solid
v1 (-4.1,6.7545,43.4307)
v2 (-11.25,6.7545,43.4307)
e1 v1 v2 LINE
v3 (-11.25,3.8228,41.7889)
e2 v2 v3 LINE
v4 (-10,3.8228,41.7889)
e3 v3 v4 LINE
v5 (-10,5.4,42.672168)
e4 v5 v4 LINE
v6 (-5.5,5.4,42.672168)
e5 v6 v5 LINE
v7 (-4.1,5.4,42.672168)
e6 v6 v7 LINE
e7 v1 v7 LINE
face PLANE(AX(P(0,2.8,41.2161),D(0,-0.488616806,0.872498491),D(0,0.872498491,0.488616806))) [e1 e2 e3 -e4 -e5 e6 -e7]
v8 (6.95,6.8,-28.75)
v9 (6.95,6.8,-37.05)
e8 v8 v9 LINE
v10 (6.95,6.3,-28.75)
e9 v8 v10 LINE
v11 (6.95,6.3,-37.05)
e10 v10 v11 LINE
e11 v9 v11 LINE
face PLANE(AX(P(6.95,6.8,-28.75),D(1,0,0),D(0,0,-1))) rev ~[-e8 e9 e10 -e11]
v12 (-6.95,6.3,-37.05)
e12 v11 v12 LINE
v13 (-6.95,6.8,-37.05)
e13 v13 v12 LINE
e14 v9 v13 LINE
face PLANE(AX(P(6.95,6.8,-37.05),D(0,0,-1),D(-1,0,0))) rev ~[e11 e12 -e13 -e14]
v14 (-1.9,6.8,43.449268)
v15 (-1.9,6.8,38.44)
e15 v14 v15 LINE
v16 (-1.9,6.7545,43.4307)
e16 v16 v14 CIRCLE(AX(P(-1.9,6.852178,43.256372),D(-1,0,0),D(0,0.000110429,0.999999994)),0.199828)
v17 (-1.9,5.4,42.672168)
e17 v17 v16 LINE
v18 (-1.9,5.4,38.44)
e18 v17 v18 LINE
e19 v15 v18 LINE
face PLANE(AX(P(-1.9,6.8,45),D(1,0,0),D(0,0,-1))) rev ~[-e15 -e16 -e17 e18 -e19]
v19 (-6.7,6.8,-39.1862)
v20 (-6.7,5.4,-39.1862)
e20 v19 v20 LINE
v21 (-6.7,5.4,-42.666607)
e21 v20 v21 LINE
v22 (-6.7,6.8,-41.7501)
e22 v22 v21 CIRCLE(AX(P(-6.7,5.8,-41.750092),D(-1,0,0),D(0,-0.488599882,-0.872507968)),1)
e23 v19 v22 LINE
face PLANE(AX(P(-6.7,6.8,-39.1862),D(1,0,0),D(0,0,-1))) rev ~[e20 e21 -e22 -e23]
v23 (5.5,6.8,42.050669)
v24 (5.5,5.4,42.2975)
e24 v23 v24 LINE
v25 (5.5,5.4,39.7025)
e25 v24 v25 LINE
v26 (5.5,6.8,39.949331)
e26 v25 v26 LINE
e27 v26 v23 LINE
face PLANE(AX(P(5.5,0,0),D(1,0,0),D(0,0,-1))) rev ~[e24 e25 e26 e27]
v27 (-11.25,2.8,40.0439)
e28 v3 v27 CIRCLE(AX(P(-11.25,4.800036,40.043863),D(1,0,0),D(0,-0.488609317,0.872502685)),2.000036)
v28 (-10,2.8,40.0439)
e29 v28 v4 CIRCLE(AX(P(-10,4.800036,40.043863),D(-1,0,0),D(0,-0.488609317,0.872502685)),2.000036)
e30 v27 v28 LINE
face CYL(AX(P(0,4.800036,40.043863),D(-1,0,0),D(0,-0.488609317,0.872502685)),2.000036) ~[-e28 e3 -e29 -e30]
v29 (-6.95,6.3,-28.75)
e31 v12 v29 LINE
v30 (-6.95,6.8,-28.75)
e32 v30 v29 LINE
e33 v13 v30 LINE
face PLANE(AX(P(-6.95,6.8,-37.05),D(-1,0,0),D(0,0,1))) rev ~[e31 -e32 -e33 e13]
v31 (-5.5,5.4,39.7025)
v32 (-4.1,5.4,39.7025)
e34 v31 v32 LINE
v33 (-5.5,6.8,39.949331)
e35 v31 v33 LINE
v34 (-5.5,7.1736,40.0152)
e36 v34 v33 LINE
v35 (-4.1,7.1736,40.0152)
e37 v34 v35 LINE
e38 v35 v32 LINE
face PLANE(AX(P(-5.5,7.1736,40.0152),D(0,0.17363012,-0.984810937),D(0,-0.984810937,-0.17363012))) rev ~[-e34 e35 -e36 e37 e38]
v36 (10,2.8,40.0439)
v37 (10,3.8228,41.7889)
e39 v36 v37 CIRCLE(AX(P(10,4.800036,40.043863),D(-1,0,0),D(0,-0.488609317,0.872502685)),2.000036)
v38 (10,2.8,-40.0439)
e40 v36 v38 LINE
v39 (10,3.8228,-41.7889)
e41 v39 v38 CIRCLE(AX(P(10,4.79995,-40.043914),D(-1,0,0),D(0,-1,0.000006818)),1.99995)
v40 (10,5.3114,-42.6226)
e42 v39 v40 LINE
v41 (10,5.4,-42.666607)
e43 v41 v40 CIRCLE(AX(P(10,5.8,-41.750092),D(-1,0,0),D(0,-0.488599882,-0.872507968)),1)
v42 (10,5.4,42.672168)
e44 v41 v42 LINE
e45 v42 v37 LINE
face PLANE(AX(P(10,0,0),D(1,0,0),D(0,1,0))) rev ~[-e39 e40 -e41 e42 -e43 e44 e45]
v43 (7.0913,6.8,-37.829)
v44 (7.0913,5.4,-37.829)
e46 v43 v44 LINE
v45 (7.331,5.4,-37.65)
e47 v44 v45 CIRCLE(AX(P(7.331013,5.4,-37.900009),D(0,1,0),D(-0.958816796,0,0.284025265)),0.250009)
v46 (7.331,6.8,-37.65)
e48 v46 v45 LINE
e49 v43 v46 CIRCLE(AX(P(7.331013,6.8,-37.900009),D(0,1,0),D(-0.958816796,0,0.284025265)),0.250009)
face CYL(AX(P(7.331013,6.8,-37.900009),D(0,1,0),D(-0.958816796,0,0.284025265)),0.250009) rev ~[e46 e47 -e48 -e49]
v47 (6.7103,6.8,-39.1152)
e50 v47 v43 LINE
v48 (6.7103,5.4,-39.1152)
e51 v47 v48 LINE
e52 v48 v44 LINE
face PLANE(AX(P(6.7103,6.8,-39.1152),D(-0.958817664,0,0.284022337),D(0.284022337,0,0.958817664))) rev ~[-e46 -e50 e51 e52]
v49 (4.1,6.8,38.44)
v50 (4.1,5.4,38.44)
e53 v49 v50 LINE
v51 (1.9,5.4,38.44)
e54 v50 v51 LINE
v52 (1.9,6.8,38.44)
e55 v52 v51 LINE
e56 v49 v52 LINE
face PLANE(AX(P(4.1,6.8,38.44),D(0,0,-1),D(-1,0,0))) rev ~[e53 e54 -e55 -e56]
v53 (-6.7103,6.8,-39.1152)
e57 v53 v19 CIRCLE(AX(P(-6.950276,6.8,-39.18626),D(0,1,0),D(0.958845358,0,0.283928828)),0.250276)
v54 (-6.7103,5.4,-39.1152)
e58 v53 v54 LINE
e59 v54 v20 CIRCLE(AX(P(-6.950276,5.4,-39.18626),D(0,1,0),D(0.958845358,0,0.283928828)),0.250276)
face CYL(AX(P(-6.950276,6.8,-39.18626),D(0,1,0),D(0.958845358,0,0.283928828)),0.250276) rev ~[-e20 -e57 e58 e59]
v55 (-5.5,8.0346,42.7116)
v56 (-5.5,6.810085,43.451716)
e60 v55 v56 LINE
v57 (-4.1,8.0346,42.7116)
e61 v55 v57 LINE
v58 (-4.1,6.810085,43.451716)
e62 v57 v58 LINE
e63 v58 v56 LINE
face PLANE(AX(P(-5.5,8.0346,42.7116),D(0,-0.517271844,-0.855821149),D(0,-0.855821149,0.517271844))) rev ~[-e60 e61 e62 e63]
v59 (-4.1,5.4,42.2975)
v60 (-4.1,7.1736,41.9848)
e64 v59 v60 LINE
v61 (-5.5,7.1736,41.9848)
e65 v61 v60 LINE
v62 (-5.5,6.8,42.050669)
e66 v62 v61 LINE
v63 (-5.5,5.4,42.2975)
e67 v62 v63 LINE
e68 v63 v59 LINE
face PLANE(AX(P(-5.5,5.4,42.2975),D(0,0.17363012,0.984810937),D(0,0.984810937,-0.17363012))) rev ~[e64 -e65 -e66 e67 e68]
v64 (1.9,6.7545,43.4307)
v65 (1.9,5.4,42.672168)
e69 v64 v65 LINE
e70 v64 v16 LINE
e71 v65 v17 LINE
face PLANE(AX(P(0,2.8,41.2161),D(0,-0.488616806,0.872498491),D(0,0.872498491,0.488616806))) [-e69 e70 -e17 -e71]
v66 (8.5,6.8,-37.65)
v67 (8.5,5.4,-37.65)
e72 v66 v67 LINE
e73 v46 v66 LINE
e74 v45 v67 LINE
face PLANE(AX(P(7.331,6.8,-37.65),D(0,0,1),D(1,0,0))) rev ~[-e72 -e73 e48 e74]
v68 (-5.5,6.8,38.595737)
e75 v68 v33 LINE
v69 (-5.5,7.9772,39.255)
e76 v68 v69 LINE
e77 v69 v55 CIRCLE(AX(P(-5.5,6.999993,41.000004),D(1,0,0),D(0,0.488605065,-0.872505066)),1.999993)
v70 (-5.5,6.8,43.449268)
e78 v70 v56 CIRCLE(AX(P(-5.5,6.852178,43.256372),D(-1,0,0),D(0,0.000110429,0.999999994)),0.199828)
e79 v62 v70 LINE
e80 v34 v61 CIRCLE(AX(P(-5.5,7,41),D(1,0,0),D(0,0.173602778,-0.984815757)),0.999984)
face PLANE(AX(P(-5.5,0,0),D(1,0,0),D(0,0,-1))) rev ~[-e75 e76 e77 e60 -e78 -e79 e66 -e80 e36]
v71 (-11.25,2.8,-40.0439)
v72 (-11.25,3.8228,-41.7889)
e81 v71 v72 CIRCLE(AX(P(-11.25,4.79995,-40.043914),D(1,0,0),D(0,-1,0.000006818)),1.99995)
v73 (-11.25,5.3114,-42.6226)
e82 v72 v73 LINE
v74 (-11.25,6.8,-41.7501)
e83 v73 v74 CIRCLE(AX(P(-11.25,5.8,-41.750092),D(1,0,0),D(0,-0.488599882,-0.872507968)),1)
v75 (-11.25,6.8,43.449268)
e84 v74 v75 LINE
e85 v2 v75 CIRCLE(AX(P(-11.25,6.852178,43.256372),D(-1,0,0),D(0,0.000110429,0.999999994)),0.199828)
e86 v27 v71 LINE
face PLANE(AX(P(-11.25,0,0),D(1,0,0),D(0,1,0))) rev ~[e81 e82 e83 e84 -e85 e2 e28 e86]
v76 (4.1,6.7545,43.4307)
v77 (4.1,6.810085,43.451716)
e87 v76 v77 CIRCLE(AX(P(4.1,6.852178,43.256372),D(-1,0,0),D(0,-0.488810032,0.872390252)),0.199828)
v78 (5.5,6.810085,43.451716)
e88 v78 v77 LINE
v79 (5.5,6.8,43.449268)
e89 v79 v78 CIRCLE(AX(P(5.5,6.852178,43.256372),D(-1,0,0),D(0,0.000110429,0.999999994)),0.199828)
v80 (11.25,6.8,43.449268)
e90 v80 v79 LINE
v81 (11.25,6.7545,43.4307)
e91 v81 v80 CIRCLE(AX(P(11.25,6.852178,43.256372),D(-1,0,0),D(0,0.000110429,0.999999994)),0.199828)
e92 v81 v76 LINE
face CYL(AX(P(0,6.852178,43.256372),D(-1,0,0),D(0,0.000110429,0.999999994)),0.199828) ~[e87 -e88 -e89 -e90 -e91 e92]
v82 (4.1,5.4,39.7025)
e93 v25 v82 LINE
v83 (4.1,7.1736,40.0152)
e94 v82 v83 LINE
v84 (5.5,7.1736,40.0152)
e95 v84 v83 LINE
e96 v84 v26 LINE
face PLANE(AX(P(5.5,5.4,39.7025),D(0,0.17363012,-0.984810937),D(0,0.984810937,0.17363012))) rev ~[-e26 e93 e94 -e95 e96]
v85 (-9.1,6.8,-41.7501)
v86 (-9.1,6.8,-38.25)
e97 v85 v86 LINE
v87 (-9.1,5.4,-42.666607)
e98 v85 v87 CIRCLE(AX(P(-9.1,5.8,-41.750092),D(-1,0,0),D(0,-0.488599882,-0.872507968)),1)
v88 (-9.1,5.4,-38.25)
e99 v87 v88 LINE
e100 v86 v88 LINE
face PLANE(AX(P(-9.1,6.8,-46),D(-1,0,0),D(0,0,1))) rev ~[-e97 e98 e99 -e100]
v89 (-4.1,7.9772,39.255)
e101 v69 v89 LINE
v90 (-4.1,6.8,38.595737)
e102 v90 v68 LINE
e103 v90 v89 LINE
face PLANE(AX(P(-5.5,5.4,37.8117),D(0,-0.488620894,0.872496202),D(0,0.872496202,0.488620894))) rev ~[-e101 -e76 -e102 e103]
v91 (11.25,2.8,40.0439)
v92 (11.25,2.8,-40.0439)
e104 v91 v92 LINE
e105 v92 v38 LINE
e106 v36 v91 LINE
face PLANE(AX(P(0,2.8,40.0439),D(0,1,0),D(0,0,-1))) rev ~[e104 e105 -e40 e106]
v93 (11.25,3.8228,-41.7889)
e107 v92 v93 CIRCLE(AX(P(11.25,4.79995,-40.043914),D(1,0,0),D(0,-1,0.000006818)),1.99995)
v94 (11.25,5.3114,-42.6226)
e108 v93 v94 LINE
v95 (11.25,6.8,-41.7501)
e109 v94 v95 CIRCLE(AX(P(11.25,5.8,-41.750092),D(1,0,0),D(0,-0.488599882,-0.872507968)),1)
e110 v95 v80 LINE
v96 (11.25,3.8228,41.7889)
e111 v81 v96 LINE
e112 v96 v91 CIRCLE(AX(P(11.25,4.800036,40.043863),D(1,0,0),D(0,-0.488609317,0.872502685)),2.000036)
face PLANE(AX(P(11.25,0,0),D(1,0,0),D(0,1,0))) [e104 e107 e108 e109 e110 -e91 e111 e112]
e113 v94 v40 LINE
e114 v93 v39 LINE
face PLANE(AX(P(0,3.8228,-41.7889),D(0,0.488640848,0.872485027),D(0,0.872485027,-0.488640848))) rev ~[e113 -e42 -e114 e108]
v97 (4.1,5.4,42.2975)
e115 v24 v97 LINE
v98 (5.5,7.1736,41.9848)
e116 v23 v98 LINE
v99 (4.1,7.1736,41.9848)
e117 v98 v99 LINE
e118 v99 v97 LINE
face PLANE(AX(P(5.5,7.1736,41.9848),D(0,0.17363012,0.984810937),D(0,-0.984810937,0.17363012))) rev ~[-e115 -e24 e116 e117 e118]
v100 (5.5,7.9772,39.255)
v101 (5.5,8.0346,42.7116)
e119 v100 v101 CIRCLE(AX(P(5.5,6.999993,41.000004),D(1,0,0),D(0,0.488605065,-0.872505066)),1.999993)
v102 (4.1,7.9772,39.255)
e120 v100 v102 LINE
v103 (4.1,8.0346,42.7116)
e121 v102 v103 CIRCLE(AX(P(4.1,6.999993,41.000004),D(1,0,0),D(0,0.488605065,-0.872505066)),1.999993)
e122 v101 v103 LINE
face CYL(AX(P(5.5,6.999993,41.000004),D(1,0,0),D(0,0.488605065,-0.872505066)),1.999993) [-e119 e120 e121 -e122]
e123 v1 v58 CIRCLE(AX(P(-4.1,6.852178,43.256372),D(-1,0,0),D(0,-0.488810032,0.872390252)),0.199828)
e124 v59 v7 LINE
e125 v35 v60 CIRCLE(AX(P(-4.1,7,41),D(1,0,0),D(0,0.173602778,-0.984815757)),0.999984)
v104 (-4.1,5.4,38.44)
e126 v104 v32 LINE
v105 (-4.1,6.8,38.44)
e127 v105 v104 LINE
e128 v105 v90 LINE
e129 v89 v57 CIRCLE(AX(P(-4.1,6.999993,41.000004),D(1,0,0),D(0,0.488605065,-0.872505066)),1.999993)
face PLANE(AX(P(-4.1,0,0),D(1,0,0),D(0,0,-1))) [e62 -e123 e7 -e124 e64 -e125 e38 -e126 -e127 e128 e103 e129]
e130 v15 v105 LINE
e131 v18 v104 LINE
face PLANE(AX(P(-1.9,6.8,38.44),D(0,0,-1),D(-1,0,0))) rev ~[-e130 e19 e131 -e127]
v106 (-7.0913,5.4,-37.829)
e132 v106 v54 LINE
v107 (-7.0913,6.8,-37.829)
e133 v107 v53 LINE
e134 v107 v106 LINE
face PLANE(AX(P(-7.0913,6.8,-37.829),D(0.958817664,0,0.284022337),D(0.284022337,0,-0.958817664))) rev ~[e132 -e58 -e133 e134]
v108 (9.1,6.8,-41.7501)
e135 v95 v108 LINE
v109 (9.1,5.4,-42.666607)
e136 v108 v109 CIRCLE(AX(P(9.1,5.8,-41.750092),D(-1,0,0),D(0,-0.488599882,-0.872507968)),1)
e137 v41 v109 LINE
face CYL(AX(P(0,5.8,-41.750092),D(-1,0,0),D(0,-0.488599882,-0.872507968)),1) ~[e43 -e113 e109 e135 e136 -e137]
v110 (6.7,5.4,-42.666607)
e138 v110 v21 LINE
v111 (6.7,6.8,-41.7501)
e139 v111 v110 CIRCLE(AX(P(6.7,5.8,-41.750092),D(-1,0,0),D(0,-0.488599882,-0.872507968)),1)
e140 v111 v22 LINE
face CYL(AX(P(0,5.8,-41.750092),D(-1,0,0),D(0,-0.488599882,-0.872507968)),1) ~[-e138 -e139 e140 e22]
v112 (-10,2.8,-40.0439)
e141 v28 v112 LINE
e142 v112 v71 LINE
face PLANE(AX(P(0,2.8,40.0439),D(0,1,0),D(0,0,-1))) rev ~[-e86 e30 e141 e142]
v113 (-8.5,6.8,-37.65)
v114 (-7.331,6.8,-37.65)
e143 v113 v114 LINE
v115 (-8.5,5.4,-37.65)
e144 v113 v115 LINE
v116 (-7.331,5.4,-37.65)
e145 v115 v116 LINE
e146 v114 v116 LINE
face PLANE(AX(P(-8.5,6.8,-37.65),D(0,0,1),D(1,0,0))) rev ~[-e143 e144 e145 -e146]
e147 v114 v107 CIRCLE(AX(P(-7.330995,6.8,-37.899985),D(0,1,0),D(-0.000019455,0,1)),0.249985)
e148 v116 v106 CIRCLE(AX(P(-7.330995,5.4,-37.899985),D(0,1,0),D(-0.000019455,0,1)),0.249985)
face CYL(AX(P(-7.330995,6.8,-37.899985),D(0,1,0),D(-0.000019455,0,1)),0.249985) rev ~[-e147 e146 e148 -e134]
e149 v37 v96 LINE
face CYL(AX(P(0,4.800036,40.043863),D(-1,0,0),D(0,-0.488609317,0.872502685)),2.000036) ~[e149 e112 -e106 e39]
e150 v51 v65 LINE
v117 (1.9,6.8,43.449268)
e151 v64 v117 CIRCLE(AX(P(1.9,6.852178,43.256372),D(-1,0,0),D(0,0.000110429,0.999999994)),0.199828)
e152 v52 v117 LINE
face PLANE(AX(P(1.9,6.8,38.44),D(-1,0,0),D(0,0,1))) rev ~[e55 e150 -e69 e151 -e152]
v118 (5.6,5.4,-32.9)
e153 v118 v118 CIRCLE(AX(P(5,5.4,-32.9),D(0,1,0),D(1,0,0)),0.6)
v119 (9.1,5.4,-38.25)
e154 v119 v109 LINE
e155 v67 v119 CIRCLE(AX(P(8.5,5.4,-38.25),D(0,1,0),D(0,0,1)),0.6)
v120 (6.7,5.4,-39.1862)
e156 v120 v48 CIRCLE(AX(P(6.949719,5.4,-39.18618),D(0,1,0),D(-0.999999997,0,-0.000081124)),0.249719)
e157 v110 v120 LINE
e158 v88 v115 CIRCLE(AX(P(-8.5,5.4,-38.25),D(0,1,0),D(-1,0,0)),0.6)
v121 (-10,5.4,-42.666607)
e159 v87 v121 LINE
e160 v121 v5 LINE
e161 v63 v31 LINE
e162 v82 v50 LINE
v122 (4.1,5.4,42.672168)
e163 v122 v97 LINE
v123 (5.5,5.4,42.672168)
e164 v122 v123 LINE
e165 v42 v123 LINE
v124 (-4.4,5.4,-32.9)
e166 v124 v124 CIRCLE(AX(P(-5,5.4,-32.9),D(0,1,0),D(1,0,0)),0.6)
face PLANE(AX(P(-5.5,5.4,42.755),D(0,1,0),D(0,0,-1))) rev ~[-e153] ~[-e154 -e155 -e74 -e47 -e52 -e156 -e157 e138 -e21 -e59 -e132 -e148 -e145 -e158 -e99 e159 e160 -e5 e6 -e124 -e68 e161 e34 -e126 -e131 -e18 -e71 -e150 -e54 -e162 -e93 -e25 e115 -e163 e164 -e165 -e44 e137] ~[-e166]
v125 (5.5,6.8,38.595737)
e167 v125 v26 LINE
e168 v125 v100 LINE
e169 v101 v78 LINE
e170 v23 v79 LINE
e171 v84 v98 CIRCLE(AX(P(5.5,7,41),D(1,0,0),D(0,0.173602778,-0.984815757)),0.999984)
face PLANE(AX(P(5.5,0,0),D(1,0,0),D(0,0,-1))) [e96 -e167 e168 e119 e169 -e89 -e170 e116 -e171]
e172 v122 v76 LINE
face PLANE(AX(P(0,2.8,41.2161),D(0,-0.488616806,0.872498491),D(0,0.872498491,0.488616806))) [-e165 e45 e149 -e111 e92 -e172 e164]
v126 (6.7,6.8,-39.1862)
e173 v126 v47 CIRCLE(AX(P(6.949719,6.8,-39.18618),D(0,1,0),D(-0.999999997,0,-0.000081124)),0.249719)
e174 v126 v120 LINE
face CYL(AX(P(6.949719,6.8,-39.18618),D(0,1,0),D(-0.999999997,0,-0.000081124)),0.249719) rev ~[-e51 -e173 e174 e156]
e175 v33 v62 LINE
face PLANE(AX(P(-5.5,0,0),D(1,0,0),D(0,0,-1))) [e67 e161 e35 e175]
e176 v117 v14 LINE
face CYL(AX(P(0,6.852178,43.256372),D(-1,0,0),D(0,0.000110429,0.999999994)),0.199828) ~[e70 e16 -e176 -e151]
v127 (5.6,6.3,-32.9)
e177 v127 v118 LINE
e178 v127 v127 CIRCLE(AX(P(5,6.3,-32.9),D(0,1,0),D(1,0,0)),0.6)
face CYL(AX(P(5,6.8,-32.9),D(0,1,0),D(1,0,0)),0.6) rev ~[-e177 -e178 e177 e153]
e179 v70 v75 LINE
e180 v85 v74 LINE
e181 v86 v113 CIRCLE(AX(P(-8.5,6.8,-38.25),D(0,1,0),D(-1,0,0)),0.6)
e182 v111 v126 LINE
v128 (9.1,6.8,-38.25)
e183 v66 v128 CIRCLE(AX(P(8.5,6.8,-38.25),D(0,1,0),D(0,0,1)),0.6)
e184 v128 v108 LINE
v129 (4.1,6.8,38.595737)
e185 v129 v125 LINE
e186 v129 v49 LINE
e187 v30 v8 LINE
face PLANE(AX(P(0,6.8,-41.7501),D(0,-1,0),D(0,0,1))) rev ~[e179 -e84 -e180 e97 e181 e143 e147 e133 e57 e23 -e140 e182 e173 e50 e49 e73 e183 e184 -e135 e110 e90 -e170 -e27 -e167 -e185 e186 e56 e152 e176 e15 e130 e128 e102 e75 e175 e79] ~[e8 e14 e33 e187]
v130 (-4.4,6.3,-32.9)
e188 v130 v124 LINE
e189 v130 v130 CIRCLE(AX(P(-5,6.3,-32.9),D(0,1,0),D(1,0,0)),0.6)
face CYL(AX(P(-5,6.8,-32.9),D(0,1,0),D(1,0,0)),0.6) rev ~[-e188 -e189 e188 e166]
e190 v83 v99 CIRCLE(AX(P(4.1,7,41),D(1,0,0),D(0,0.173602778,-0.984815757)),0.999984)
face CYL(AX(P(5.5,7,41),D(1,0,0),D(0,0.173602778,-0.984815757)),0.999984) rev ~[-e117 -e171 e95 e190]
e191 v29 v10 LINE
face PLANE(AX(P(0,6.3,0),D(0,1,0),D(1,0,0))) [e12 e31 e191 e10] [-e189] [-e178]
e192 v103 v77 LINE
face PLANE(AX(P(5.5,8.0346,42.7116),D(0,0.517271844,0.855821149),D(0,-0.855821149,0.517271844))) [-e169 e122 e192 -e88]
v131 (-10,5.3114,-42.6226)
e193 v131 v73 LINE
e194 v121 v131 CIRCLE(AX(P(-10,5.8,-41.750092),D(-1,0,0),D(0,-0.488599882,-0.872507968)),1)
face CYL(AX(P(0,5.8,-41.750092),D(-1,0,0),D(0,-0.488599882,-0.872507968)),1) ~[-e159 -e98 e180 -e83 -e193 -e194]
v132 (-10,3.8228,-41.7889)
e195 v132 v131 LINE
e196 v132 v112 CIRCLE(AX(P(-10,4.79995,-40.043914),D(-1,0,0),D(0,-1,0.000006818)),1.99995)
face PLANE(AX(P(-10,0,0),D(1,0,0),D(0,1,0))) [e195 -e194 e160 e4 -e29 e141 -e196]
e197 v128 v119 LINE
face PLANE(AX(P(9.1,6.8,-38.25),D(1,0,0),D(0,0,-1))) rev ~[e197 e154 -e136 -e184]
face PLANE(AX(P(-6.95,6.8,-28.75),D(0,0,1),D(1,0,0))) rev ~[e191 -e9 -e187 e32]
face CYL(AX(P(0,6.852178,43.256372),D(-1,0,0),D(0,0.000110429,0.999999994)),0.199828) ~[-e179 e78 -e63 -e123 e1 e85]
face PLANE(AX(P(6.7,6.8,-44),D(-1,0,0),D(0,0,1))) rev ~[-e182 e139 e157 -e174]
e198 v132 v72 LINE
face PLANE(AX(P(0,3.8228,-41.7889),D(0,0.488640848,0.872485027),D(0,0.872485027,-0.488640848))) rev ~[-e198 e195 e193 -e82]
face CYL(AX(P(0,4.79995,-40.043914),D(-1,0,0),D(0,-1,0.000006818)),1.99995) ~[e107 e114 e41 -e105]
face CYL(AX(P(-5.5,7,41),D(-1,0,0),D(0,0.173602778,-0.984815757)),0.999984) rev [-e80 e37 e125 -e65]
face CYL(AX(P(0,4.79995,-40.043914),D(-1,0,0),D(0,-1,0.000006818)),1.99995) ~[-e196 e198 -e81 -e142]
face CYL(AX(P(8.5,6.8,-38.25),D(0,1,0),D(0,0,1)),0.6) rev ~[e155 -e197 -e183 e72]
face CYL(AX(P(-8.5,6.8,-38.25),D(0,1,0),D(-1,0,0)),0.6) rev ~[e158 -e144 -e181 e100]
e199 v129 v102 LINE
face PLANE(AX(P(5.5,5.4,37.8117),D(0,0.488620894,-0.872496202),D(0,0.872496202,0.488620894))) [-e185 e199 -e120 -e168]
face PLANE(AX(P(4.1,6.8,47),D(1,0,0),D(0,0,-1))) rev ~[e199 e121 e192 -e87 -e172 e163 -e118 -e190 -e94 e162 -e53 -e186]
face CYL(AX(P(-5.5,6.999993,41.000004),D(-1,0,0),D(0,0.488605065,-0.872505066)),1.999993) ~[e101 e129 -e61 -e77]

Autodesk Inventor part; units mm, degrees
sketch "Sketch_1" plane through (0, 0, 0) normal (1, 0, 0) x (0, 1, 0)
  line L0 (6.8, 43.4562) -> (3.8228, 41.7889)
  arc A0 (3.8228, 41.7889) -> (2.8, 40.0439) centre (4.8, 40.0439) ccw
  line L1 (2.8, 40.0439) -> (2.8, -40.0439)
  arc A1 (2.8, -40.0439) -> (3.8228, -41.7889) centre (4.8, -40.0439) ccw
  line L2 (3.8228, -41.7889) -> (5.3114, -42.6226)
  arc A2 (5.3114, -42.6226) -> (6.8, -41.7501) centre (5.8, -41.7501) ccw
  line L3 (6.8, -41.7501) -> (6.8, 43.4562)
extrude "Extrusion1" add sketch "Sketch_1" along normal mid plane 22.5
sketch "Sketch_4" plane through (0, 0, 0) normal (1, 0, 0) x (0, 1, 0)
  line L0 (6.78, 48.4) -> (-1, 48.4)
  line L1 (-1, 48.4) -> (-1, -48.4)
  line L2 (-1, -48.4) -> (6.78, -48.4)
  line L3 (6.78, -48.4) -> (7.1588, -48.2985)
  arc A0 (7.1588, -48.2985) -> (7.9, -47.3326) centre (6.9, -47.3326) ccw
  line L4 (7.9, -47.3326) -> (7.9, -45.0762)
  arc A1 (7.9, -45.0762) -> (7.3886, -44.2037) centre (6.9, -45.0762) ccw
  line L5 (7.3886, -44.2037) -> (5.4, -43.09)
  line L6 (5.4, -43.09) -> (5.4, 43.09)
  line L7 (5.4, 43.09) -> (7.3886, 44.2037)
  arc A2 (7.3886, 44.2037) -> (7.9, 45.0762) centre (6.9, 45.0762) ccw
  line L8 (7.9, 45.0762) -> (7.9, 47.3326)
  arc A3 (7.9, 47.3326) -> (7.1588, 48.2985) centre (6.9, 47.3326) ccw
  line L9 (7.1588, 48.2985) -> (6.78, 48.4)
extrude "Extrusion2" cut sketch "Sketch_4" along normal mid plane 20
sketch "Sketch_10" plane through (5.5, 0, 0) normal (1, 0, 0) x (0, 0, -1)
  line L0 (-43.5, 6.7302) -> (-42.755, 5.4)
  line L1 (-42.755, 5.4) -> (-42.2975, 5.4)
  line L2 (-42.2975, 5.4) -> (-41.9848, 7.1736)
  arc A0 (-40.0152, 7.1736) -> (-41.9848, 7.1736) centre (-41, 7) ccw
  line L3 (-40.0152, 7.1736) -> (-39.7025, 5.4)
  line L4 (-39.7025, 5.4) -> (-37.8117, 5.4)
  line L5 (-37.8117, 5.4) -> (-39.255, 7.9772)
  arc A1 (-39.255, 7.9772) -> (-42.7116, 8.0346) centre (-41, 7) ccw
  line L6 (-42.7116, 8.0346) -> (-43.5, 6.7302)
extrude "Extrusion3" add sketch "Sketch_10" against normal blind 1.4
sketch "Sketch_2" plane through (-5.5, 0, 0) normal (1, 0, 0) x (0, 0, -1)
  line L0 (-43.5, 6.7302) -> (-42.755, 5.4)
  line L1 (-42.755, 5.4) -> (-42.2975, 5.4)
  line L2 (-42.2975, 5.4) -> (-41.9848, 7.1736)
  arc A0 (-40.0152, 7.1736) -> (-41.9848, 7.1736) centre (-41, 7) ccw
  line L3 (-40.0152, 7.1736) -> (-39.7025, 5.4)
  line L4 (-39.7025, 5.4) -> (-37.8117, 5.4)
  line L5 (-37.8117, 5.4) -> (-39.255, 7.9772)
  arc A1 (-39.255, 7.9772) -> (-42.7116, 8.0346) centre (-41, 7) ccw
  line L6 (-42.7116, 8.0346) -> (-43.5, 6.7302)
extrude "Extrusion4" add sketch "Sketch_2" along normal blind 1.4
sketch "Sketch_3" plane through (0, 0, 0) normal (1, 0, 0) x (0, 1, 0)
  line L0 (7.3, 45) -> (2.8, 45)
  line L1 (2.8, 45) -> (2.8, 41.2161)
  line L2 (2.8, 41.2161) -> (6.7545, 43.4307)
  arc A0 (6.8522, 43.4562) -> (6.7545, 43.4307) centre (6.8522, 43.2562) ccw
  line L3 (6.8522, 43.4562) -> (7.3, 43.4562)
  line L4 (7.3, 43.4562) -> (7.3, 45)
extrude "Extrusion5" cut sketch "Sketch_3" along normal mid plane 24
sketch "Sketch_5" plane through (0, 6.8, 0) normal (0, 1, 0) x (1, 0, 0)
  line L0 (-4.1, -38.44) -> (-4.1, -47)
  line L1 (-4.1, -47) -> (4.1, -47)
  line L2 (4.1, -47) -> (4.1, -38.44)
  line L3 (4.1, -38.44) -> (1.9, -38.44)
  line L4 (1.9, -38.44) -> (1.9, -45)
  line L5 (1.9, -45) -> (-1.9, -45)
  line L6 (-1.9, -45) -> (-1.9, -38.44)
  line L7 (-1.9, -38.44) -> (-4.1, -38.44)
extrude "Extrusion6" cut sketch "Sketch_5" against normal blind 1.5
sketch "Sketch_6" plane through (5.5, 0, 0) normal (1, 0, 0) x (0, 0, -1)
  line L0 (-42.2975, 5.4) -> (-39.7025, 5.4)
  line L1 (-39.7025, 5.4) -> (-40.0152, 7.1736)
  arc A0 (-40.0152, 7.1736) -> (-41.9848, 7.1736) centre (-41, 7) ccw
  line L2 (-41.9848, 7.1736) -> (-42.2975, 5.4)
extrude "Extrusion7" cut sketch "Sketch_6" against normal blind 1.5
sketch "Sketch_7" plane through (-5.5, 0, 0) normal (1, 0, 0) x (0, 0, -1)
  line L0 (-42.2975, 5.4) -> (-39.7025, 5.4)
  line L1 (-39.7025, 5.4) -> (-40.0152, 7.1736)
  arc A0 (-40.0152, 7.1736) -> (-41.9848, 7.1736) centre (-41, 7) ccw
  line L2 (-41.9848, 7.1736) -> (-42.2975, 5.4)
extrude "Extrusion8" cut sketch "Sketch_7" along normal blind 1.5
sketch "Sketch_8" plane through (0, 6.8, 0) normal (0, 1, 0) x (1, 0, 0)
  line L0 (-9.1, 46) -> (-9.1, 38.25)
  arc A0 (-9.1, 38.25) -> (-8.5, 37.65) centre (-8.5, 38.25) ccw
  line L1 (-8.5, 37.65) -> (-7.331, 37.65)
  arc A1 (-7.331, 37.65) -> (-7.0913, 37.829) centre (-7.331, 37.9) ccw
  line L2 (-7.0913, 37.829) -> (-6.7103, 39.1152)
  arc A2 (-6.7103, 39.1152) -> (-6.7, 39.1862) centre (-6.95, 39.1862) ccw
  line L3 (-6.7, 39.1862) -> (-6.7, 44)
  line L4 (-6.7, 44) -> (6.7, 44)
  line L5 (6.7, 44) -> (6.7, 39.1862)
  arc A3 (6.7, 39.1862) -> (6.7103, 39.1152) centre (6.95, 39.1862) ccw
  line L6 (6.7103, 39.1152) -> (7.0913, 37.829)
  arc A4 (7.0913, 37.829) -> (7.331, 37.65) centre (7.331, 37.9) ccw
  line L7 (7.331, 37.65) -> (8.5, 37.65)
  arc A5 (8.5, 37.65) -> (9.1, 38.25) centre (8.5, 38.25) ccw
  line L8 (9.1, 38.25) -> (9.1, 46)
  line L9 (9.1, 46) -> (-9.1, 46)
extrude "Extrusion9" cut sketch "Sketch_8" against normal blind 1.5
sketch "Sketch_11" plane through (0, 6.8, 0) normal (0, 1, 0) x (1, 0, 0)
  line L0 (-6.95, 28.75) -> (6.95, 28.75)
  line L1 (6.95, 28.75) -> (6.95, 37.05)
  line L2 (6.95, 37.05) -> (-6.95, 37.05)
  line L3 (-6.95, 37.05) -> (-6.95, 28.75)
extrude "Extrusion10" cut sketch "Sketch_11" against normal blind 0.5
sketch "Sketch_13" plane through (0, 6.8, 0) normal (0, 1, 0) x (1, 0, 0)
  circle A0 centre (-5, 32.9) radius 0.6
extrude "Extrusion11" cut sketch "Sketch_13" against normal blind 1.5
sketch "Sketch_14" plane through (0, 6.8, 0) normal (0, 1, 0) x (1, 0, 0)
  circle A0 centre (5, 32.9) radius 0.6
extrude "Extrusion12" cut sketch "Sketch_14" against normal blind 1.5
ref_plane "CP_XY" through (0, 0, 0) normal (0, 1, 0) x (1, 0, 0)
ref_plane "CP_YZ" through (0, 0, 0) normal (1, 0, 0) x (0, 0, -1)
ref_plane "CP_ZX" through (0, 0, 0) normal (0, 0, -1) x (0, 1, 0)
ref_plane "mitFront_XY" through (0, 7, 41) normal (1, 0, 0) x (0, 0, -1)
ref_plane "mitFront_YZ" through (0, 7, 41) normal (0, 0, -1) x (0, 1, 0)
ref_plane "mitFront_ZX" through (0, 7, 41) normal (0, 1, 0) x (1, 0, 0)
ref_plane "mitMark_XY" through (0, 6.3, -32.9) normal (0, -1, 0) x (1, 0, 0)
ref_plane "mitMark_YZ" through (0, 6.3, -32.9) normal (1, 0, 0) x (0, 0, 1)
ref_plane "mitMark_ZX" through (0, 6.3, -32.9) normal (0, 0, 1) x (0, -1, 0)
properties part number "CH20M22 C BK 2418670000"
